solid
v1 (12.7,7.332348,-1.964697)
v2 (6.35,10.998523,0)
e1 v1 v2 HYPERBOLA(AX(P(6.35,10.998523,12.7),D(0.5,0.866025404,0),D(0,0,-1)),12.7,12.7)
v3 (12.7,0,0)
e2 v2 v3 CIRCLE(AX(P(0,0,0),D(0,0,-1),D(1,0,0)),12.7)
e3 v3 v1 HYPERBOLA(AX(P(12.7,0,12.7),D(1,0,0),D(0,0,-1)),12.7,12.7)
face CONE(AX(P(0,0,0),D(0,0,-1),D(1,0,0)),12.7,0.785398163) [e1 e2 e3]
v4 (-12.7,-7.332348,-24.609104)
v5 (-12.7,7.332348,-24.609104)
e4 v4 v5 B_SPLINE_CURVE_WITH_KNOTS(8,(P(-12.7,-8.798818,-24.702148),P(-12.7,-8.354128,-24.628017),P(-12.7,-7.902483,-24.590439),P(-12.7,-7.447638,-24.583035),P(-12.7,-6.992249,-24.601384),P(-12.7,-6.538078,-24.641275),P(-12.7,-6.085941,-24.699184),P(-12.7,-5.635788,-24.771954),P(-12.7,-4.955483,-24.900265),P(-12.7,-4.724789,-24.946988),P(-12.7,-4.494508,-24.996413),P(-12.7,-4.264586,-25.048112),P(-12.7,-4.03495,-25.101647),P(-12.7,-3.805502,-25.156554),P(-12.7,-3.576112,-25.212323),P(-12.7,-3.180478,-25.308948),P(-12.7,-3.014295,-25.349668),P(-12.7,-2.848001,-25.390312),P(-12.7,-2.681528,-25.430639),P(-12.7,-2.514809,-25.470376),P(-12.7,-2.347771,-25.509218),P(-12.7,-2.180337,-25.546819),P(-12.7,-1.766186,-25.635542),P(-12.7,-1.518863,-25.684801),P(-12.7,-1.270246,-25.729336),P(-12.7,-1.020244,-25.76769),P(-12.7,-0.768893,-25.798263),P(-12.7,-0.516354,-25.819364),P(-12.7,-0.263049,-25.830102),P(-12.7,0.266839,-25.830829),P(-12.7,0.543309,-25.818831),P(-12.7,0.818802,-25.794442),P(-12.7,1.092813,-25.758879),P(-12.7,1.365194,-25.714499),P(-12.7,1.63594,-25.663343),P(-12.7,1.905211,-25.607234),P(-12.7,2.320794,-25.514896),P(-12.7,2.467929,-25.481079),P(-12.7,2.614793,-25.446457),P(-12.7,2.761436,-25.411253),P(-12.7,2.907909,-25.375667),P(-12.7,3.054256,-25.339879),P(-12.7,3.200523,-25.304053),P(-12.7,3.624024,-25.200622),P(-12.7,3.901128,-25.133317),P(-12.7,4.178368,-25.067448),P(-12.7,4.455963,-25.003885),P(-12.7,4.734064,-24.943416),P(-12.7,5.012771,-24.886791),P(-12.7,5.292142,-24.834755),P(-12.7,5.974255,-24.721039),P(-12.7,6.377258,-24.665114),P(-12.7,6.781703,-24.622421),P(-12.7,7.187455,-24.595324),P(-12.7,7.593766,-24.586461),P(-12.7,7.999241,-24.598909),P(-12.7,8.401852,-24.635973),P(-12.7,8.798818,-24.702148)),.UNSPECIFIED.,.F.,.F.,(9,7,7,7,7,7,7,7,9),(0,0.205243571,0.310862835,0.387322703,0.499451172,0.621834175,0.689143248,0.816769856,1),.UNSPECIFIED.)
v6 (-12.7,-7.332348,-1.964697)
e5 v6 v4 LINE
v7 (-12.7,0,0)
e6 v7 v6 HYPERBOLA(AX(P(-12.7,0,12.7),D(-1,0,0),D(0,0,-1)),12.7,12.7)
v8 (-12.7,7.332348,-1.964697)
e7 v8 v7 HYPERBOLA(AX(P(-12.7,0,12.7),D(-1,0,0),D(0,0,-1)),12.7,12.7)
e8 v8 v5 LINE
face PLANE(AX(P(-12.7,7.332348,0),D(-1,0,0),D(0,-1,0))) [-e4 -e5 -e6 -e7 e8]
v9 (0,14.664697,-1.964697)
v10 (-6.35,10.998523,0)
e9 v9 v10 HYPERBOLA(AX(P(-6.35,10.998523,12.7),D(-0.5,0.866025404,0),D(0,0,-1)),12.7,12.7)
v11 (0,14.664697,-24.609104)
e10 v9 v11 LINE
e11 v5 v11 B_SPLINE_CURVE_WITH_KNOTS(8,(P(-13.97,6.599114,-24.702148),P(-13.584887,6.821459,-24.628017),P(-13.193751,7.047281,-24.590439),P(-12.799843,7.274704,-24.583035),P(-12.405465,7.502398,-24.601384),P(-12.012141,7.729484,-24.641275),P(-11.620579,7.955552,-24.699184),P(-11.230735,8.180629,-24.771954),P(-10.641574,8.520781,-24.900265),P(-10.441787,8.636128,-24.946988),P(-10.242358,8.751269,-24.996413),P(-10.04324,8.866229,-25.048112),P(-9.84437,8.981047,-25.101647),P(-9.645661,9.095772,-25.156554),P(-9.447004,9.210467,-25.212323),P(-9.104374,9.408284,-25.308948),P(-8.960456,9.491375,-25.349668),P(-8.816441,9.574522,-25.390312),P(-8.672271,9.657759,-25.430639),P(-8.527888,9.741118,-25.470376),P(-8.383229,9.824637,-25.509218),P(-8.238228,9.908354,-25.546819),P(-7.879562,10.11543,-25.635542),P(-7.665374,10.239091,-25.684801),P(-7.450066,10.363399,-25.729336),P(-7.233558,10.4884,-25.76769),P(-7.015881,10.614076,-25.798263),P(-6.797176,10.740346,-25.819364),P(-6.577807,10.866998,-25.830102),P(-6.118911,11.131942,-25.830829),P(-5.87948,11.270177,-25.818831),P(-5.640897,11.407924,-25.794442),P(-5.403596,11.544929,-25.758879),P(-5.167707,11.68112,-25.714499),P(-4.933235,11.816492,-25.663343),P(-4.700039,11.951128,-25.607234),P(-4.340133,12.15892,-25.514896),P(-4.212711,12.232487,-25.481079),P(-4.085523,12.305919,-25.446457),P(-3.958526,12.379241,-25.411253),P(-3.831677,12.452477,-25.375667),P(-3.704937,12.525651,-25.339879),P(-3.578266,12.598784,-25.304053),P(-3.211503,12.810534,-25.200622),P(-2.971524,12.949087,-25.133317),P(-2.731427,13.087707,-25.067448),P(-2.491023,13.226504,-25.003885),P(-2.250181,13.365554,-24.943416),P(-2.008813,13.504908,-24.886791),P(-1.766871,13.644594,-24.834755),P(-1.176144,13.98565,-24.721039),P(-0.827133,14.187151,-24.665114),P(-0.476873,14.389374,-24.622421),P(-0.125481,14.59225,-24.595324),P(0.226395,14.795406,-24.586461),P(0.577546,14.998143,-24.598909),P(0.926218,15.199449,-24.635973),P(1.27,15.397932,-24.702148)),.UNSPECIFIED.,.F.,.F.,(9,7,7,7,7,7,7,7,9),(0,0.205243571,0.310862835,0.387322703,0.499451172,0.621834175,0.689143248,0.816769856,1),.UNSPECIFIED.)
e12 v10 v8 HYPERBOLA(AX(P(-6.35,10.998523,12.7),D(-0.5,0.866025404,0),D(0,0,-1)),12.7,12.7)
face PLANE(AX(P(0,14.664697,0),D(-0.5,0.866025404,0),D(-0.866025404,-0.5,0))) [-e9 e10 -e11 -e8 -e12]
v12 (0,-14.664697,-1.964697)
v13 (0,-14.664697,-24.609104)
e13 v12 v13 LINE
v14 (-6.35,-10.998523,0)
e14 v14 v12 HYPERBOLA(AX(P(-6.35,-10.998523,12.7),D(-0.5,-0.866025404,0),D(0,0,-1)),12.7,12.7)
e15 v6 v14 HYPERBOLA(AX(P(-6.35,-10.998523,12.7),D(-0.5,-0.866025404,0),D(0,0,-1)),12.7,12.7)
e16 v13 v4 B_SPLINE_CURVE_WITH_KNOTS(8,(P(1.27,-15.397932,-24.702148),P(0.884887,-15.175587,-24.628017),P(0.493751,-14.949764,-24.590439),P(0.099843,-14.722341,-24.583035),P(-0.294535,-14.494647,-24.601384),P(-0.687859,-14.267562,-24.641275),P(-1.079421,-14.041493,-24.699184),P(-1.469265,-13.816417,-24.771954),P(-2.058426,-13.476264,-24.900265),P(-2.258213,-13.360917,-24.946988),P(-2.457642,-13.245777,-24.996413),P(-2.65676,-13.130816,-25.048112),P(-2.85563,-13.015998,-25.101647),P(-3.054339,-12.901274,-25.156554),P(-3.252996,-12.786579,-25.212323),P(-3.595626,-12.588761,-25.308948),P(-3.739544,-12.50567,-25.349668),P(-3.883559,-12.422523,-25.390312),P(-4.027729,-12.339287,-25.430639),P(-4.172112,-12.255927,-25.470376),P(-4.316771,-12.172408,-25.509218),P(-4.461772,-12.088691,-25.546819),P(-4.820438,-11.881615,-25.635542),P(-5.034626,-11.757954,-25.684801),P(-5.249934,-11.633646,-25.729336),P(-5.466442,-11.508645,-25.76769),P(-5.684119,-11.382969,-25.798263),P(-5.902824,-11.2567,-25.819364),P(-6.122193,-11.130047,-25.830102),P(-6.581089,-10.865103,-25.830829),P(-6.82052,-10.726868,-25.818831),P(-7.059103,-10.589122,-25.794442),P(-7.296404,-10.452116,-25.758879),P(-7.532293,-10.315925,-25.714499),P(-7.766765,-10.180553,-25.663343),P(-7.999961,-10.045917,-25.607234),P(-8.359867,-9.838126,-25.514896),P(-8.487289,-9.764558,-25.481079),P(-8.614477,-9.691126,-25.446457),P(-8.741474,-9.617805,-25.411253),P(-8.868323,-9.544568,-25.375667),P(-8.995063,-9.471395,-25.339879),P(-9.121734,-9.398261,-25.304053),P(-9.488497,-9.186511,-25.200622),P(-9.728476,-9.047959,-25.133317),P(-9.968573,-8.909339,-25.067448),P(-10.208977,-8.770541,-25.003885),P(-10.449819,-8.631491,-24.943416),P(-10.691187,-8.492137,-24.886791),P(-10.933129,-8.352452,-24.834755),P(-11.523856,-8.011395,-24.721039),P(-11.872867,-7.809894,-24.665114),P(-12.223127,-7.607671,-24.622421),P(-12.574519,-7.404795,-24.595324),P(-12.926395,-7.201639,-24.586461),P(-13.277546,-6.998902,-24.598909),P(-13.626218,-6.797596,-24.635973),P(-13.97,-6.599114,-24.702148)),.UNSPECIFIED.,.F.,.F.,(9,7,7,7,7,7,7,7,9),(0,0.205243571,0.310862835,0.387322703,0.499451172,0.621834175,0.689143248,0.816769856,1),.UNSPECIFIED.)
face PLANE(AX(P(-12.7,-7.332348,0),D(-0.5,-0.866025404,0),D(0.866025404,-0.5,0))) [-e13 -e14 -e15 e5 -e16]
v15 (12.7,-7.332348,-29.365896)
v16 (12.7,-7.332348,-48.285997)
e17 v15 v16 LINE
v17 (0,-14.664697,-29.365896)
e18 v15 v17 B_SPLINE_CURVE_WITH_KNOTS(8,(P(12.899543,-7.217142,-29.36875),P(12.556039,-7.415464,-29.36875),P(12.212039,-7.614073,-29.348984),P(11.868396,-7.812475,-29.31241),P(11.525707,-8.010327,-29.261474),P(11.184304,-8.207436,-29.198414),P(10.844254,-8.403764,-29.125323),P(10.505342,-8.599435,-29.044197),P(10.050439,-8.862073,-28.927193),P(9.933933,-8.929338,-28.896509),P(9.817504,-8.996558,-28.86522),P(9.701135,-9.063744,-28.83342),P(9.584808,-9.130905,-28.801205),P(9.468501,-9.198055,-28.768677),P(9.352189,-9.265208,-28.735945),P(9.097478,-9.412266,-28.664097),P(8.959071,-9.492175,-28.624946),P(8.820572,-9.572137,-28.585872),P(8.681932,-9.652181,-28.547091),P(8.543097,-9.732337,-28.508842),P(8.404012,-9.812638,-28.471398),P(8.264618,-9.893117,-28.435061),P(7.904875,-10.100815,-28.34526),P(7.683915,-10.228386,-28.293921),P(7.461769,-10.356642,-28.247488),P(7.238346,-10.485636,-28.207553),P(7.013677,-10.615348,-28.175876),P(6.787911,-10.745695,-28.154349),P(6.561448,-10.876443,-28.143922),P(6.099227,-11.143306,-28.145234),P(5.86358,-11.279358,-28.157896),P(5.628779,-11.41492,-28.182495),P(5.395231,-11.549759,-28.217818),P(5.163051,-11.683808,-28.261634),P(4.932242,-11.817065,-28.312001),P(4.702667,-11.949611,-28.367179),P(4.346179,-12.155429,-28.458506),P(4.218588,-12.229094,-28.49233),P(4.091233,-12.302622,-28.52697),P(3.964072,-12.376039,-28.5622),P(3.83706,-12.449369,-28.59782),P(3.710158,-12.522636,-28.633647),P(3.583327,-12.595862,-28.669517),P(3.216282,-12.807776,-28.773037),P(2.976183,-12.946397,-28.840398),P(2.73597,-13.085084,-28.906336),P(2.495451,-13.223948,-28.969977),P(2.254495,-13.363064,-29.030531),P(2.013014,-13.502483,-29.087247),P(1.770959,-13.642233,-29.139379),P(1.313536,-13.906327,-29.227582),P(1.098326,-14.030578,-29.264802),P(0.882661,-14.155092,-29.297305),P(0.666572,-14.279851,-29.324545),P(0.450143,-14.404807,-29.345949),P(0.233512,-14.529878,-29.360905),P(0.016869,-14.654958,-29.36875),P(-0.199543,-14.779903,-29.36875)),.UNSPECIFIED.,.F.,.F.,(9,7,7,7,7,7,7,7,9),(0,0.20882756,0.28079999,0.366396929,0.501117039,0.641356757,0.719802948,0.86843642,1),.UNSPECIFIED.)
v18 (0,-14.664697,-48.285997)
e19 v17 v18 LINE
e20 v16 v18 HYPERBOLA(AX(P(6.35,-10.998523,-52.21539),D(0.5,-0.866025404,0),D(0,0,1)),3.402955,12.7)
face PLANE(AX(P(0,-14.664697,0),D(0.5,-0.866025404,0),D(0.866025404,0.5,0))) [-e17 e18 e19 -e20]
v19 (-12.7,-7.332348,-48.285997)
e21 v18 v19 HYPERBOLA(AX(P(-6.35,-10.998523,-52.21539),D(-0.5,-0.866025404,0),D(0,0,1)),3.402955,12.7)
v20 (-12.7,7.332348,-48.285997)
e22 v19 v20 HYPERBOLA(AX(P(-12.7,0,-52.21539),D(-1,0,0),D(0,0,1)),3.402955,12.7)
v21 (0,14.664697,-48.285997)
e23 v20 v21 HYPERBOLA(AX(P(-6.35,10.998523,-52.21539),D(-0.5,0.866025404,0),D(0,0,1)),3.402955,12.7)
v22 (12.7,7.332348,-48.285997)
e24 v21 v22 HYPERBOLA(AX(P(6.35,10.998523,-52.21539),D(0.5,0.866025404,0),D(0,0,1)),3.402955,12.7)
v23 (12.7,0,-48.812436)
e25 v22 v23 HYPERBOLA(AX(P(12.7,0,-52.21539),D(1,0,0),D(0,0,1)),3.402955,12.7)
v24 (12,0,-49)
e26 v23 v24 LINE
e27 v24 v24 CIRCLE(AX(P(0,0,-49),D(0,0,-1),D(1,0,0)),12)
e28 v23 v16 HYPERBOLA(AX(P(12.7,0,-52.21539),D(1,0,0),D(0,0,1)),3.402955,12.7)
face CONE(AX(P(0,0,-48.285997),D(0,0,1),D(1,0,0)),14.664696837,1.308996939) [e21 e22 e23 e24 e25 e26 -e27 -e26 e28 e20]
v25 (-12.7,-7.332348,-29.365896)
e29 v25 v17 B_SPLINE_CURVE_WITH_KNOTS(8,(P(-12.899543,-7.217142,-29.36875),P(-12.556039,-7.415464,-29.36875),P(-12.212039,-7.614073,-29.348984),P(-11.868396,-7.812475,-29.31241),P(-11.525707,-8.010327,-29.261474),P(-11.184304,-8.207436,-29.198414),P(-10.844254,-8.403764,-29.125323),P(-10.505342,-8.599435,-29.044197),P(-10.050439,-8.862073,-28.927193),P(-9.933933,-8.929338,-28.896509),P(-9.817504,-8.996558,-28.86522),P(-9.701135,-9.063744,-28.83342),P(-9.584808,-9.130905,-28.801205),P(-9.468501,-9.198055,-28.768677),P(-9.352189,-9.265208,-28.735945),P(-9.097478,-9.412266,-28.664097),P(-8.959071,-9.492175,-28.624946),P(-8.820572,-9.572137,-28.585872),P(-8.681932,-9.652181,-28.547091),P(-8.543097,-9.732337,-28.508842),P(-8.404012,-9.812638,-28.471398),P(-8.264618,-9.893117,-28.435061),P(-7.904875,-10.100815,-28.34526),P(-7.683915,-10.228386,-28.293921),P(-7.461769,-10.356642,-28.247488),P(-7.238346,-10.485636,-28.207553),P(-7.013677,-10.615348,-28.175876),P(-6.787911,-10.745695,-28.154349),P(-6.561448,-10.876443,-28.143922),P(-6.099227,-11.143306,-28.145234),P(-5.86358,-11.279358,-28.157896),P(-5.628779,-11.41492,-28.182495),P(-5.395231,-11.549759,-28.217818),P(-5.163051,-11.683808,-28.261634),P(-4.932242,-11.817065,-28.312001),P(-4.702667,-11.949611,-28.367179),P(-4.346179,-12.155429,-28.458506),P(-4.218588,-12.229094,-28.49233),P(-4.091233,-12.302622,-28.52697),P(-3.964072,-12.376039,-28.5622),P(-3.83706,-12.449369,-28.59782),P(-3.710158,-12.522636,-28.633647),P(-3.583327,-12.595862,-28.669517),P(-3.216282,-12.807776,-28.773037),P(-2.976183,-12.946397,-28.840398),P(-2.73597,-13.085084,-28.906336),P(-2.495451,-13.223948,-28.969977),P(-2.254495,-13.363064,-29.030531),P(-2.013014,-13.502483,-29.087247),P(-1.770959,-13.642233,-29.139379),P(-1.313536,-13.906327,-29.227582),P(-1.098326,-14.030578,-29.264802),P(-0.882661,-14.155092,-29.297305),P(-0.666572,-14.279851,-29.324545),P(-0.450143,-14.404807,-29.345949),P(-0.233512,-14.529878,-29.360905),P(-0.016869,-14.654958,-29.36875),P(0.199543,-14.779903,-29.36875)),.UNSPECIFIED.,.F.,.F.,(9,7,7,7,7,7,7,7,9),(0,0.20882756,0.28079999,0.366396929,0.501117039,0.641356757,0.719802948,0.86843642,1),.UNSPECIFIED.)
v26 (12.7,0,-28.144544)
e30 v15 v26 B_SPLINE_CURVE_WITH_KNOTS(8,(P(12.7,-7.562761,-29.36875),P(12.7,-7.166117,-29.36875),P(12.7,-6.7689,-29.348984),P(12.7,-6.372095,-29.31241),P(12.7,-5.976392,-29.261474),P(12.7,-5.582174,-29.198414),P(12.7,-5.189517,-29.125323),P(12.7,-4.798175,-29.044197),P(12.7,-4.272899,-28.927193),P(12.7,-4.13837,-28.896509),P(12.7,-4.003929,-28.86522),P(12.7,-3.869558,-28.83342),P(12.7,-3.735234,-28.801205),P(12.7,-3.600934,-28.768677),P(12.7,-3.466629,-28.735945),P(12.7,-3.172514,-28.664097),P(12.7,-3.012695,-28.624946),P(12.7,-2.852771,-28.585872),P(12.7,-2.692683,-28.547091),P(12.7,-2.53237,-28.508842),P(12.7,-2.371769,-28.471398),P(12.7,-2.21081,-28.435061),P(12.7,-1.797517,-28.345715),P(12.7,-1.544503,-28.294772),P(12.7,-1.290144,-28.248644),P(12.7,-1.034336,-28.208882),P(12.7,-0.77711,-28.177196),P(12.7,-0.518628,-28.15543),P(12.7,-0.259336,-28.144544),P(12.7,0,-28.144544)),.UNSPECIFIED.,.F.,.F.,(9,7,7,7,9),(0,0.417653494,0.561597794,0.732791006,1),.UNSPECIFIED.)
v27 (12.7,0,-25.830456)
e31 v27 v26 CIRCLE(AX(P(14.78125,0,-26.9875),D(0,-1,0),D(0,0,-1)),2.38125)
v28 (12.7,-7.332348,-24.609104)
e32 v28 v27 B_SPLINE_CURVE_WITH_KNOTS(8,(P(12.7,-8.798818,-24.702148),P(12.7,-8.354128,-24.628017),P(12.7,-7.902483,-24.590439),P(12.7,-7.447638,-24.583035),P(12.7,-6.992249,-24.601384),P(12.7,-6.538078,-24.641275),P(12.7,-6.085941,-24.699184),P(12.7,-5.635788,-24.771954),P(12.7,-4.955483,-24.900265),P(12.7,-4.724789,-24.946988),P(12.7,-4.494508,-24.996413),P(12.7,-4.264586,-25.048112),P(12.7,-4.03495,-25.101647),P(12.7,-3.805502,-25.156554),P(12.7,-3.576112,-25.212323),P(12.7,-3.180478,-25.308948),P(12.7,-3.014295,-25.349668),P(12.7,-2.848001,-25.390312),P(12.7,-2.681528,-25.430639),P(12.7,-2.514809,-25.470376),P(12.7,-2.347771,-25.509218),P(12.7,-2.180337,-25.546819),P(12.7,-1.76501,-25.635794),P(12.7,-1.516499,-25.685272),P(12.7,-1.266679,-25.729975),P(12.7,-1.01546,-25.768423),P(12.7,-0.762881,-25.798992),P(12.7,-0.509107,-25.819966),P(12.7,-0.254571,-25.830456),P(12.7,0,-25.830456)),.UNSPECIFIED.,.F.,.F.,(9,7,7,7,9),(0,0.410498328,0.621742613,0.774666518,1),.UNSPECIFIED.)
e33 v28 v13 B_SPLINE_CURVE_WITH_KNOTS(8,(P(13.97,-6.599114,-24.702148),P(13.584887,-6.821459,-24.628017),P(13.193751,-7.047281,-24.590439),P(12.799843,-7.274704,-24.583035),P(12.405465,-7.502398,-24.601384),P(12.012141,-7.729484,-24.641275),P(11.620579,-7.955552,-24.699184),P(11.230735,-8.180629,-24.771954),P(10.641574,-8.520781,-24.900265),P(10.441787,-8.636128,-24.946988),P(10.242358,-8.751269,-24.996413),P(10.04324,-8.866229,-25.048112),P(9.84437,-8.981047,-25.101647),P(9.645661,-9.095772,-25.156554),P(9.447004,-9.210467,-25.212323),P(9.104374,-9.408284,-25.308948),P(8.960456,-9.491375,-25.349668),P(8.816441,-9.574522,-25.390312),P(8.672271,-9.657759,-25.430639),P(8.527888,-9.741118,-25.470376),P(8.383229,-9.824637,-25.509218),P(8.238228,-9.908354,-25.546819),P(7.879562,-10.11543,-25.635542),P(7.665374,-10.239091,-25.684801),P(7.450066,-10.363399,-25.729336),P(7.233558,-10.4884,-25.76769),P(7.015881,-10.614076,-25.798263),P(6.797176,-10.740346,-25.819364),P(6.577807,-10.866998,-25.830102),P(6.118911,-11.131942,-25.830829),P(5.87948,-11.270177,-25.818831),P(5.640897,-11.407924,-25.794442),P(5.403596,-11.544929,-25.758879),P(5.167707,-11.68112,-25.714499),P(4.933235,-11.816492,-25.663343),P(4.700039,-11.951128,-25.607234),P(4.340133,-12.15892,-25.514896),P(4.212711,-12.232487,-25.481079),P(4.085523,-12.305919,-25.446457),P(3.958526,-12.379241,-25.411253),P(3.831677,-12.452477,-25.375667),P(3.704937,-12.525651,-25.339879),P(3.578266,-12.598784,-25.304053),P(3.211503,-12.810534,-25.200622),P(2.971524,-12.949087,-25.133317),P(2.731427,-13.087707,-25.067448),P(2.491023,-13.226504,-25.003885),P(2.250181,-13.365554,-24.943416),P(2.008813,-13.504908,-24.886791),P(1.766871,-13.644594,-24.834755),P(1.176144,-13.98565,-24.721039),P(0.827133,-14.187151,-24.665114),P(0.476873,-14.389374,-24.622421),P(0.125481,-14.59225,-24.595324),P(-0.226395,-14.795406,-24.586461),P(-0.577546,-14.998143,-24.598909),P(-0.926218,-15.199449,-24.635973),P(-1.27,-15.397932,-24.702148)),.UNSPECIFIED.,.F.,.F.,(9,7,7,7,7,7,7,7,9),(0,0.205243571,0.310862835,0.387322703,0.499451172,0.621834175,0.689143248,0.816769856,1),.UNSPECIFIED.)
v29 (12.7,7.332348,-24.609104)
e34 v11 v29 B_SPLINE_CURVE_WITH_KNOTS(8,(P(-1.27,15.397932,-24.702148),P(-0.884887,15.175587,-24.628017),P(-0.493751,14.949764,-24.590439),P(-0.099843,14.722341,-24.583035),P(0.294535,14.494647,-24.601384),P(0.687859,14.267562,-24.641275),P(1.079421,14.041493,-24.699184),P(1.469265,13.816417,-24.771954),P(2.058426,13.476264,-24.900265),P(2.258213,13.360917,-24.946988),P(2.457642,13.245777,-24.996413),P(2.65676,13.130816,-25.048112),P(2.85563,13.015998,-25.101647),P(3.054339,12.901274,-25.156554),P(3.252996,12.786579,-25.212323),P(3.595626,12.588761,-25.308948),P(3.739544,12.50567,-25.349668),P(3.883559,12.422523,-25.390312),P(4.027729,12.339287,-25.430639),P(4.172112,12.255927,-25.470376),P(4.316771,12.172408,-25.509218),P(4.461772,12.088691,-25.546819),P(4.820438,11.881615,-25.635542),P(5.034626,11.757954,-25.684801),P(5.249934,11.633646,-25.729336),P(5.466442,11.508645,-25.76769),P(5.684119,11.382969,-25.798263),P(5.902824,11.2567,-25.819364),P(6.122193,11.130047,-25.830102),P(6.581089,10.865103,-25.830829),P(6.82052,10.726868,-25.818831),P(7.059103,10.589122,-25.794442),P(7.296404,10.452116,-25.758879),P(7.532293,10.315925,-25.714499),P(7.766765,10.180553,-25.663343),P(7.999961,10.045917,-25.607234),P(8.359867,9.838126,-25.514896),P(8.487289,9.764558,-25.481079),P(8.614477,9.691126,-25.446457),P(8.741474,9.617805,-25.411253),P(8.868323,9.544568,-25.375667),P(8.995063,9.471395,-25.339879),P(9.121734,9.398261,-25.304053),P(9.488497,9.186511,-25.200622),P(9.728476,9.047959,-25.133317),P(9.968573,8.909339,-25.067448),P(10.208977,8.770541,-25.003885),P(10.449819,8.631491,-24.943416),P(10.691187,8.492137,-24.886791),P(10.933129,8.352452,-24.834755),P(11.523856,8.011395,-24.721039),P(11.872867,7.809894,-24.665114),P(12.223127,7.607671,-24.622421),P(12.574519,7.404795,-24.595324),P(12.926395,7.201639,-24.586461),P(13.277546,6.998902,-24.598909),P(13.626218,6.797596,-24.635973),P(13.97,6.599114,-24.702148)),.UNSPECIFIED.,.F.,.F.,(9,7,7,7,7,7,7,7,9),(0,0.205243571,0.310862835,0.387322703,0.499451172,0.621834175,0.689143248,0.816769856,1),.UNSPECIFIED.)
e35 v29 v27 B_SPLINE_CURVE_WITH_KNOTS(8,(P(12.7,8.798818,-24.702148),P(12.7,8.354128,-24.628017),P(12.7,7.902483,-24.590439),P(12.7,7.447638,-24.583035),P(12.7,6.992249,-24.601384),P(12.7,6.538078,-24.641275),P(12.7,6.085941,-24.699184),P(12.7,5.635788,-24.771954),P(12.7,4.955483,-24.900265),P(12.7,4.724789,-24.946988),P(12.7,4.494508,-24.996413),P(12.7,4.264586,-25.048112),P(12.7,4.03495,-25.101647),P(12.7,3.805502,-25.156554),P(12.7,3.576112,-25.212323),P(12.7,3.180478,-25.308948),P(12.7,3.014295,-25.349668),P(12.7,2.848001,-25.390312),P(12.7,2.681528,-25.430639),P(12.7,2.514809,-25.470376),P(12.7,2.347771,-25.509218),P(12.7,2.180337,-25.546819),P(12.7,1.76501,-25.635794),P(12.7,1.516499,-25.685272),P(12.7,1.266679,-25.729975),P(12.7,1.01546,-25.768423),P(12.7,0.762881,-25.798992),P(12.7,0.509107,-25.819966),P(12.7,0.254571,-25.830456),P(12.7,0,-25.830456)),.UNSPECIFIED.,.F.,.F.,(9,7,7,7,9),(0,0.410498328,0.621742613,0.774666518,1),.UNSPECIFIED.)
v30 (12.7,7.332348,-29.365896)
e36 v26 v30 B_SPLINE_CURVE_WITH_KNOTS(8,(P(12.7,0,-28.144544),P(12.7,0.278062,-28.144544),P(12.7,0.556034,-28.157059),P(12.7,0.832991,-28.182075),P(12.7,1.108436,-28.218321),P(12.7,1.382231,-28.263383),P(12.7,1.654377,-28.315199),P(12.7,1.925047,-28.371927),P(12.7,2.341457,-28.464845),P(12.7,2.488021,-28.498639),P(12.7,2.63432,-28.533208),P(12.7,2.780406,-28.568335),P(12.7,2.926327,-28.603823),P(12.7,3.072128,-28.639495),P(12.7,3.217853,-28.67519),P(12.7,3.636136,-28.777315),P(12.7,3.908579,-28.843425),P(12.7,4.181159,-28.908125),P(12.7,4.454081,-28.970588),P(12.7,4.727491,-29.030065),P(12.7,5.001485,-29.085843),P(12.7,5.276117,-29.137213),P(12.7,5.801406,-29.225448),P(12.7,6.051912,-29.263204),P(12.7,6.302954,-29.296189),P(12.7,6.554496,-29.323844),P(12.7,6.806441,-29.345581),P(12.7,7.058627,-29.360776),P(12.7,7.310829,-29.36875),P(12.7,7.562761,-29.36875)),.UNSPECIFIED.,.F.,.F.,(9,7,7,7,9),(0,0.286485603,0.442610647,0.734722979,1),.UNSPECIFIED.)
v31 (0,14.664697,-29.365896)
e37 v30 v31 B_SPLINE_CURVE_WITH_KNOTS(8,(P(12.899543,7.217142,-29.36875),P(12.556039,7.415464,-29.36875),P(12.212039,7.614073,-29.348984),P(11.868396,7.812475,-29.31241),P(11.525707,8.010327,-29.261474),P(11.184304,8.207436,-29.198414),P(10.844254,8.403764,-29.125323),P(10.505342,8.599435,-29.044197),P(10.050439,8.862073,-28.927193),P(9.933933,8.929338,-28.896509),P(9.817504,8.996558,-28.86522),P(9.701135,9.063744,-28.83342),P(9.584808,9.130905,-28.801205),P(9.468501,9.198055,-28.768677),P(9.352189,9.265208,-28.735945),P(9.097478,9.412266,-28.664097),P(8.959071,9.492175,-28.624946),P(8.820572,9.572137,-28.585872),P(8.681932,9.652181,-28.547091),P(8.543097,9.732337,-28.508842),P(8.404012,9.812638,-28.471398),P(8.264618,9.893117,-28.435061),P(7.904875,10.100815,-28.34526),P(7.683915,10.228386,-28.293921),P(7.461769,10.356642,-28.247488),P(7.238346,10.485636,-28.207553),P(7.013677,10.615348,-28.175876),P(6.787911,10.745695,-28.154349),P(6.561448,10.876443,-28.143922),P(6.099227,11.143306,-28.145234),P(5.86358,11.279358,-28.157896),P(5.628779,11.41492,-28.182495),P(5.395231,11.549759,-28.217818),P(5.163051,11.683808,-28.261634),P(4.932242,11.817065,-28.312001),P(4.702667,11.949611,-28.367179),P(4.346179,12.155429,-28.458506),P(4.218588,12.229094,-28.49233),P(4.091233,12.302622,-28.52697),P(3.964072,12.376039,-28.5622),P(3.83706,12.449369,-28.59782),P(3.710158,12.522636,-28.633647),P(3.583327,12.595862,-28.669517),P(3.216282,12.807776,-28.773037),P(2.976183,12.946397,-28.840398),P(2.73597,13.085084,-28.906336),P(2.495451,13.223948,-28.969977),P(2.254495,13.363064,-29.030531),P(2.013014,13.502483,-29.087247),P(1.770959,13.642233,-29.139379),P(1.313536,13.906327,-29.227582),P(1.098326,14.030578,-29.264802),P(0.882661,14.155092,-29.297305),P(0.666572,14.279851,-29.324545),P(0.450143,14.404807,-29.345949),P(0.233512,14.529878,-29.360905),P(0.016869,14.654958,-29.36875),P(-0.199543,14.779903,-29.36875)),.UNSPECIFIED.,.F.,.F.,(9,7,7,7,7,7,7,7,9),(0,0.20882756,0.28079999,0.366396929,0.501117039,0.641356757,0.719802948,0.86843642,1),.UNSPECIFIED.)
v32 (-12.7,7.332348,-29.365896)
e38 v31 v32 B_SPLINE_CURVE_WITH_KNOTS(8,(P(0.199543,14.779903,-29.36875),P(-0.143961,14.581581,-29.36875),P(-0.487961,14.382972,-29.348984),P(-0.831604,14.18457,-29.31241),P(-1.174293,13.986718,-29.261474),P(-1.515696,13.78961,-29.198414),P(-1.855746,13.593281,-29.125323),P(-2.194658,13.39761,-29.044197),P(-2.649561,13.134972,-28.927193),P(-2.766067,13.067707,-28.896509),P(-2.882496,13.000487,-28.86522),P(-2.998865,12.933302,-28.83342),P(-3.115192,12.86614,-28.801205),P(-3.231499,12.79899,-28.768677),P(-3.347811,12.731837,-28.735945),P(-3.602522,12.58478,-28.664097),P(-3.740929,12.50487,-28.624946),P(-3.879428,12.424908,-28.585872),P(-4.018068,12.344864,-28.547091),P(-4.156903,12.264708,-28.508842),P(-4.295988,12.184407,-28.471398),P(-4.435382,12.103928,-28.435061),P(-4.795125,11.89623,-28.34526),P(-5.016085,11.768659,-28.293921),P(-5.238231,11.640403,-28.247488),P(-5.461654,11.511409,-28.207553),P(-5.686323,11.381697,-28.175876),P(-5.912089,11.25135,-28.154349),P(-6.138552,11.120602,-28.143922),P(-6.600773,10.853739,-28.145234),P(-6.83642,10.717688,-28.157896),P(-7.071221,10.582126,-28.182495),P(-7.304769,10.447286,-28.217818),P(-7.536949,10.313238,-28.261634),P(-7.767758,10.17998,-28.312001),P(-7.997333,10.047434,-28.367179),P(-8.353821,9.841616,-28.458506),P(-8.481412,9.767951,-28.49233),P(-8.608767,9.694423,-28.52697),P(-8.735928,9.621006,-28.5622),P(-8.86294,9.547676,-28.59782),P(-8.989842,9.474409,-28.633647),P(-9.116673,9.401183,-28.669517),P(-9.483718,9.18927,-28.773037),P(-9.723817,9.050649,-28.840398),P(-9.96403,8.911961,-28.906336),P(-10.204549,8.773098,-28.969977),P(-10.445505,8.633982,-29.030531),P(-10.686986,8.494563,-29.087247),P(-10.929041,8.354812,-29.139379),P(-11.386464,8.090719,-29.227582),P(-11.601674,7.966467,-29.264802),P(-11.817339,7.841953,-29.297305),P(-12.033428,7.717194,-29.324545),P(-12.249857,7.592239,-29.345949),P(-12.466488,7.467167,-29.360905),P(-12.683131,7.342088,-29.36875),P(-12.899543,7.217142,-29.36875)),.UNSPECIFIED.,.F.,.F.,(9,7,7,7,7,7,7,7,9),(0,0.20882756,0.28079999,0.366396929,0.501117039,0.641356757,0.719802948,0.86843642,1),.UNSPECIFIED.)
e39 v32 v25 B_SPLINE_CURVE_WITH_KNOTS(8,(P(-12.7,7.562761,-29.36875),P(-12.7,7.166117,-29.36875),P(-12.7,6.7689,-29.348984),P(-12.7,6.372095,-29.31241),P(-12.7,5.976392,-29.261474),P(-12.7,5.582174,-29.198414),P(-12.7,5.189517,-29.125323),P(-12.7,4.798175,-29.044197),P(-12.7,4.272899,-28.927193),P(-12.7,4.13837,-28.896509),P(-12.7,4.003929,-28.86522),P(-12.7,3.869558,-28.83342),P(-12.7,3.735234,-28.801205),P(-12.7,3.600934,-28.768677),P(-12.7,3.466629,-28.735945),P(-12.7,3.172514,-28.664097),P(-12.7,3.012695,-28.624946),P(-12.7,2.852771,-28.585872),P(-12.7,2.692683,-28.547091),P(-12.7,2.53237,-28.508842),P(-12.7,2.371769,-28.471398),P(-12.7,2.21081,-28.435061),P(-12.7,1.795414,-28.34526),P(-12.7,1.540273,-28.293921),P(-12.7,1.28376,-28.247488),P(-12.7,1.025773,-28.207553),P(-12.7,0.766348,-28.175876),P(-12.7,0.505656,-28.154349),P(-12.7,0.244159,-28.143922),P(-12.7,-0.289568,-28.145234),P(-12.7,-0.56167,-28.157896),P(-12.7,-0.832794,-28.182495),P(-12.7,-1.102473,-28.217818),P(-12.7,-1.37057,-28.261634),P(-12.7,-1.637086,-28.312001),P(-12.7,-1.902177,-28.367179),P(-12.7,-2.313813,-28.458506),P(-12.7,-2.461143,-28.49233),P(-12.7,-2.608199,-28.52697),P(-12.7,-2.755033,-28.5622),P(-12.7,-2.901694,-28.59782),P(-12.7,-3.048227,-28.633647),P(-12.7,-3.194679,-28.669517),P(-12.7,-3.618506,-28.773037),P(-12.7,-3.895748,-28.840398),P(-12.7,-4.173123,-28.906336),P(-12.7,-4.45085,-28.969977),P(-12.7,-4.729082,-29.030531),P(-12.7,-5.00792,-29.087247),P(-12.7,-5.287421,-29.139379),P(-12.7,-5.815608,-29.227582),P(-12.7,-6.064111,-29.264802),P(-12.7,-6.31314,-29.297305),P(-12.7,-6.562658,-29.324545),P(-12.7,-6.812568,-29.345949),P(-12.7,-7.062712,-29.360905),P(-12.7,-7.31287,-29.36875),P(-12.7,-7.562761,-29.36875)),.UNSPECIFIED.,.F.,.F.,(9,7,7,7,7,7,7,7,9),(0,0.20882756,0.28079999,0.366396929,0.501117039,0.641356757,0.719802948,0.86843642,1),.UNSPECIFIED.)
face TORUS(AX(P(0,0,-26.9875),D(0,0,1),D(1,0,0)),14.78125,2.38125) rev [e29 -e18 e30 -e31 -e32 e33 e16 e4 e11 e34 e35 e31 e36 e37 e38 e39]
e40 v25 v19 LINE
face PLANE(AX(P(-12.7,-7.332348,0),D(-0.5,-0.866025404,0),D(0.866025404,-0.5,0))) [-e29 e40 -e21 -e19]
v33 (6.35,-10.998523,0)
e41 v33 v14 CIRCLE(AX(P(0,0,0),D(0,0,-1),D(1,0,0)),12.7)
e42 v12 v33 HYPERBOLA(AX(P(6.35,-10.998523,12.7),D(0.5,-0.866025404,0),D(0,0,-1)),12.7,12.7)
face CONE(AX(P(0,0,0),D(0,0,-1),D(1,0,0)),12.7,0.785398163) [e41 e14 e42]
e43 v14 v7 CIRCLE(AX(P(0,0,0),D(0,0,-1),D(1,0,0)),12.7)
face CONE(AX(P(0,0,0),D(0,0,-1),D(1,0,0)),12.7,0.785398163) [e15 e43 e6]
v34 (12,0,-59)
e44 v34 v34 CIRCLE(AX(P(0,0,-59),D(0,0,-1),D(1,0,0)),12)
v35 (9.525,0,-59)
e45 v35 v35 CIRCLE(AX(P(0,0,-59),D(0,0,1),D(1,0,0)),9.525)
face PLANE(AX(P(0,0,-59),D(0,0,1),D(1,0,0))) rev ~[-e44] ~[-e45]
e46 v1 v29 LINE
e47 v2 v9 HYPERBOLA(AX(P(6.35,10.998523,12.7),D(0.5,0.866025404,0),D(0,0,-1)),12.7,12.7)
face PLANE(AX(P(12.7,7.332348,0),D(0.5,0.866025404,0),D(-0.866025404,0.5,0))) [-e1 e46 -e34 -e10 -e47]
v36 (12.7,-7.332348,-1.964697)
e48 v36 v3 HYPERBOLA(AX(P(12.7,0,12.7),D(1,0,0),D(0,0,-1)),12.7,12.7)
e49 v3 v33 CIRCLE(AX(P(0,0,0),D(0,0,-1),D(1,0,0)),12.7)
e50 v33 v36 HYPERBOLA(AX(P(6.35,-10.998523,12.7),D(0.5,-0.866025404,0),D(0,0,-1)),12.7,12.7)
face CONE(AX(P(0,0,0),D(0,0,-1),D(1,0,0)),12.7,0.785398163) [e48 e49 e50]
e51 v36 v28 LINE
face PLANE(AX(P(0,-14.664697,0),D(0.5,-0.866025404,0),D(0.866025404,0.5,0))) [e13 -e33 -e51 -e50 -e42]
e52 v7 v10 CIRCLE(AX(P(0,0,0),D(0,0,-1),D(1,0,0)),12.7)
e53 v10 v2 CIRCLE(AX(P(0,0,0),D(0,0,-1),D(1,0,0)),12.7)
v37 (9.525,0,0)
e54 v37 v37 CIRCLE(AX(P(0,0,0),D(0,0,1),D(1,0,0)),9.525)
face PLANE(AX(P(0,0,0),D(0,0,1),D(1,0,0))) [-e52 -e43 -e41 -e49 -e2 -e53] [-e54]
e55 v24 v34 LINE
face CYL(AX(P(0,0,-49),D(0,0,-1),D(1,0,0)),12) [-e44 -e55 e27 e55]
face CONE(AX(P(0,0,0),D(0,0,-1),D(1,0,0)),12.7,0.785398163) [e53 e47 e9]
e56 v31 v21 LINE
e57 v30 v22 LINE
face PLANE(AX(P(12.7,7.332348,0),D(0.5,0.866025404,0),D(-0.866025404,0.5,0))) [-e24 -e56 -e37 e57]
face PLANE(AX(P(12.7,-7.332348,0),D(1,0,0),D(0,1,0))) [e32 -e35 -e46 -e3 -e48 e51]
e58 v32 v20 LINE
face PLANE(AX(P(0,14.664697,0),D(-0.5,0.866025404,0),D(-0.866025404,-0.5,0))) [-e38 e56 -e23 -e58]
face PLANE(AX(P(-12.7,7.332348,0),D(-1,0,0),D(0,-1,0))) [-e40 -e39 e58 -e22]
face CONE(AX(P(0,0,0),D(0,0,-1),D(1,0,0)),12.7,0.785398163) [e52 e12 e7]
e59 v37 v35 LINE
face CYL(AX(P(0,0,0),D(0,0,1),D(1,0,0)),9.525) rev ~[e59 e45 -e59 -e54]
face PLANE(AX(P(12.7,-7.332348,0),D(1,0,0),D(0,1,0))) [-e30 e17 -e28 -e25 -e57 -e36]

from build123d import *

# Parameters (mm, degrees)
SKETCH1_R      = 9.525
EXTRUDE1_DEPTH = 59
SKETCH2_R      = 2.38125


with BuildPart() as part:
    # Sketch1 → Extrude1 (new body)
    with BuildSketch(Plane.XY):
        Polygon((-12.7, 7.332348419), (-12.7, -7.332348419), (0, -14.664696837), (12.7, -7.332348419), (12.7, 7.332348419), (0, 14.664696837), align=None)
        Circle(SKETCH1_R, mode=Mode.SUBTRACT)
    extrude(amount=-EXTRUDE1_DEPTH)

    # Sketch2 → Cut-Revolve3 (revolve, cut)
    with BuildSketch(Plane(origin=(0, 0, 0), x_dir=(0, 0, -1), z_dir=(1, 0, 0)), mode=Mode.PRIVATE) as cut_revolve3_sk:
        Polygon((59, 14.664696837), (48.285996634, 14.664696837), (49, 12), (59, 12), align=None)
        Polygon((1.964696837, 14.664696837), (0, 14.664696837), (0, 12.7), align=None)
        with Locations((26.9875, 14.78125)):
            Circle(SKETCH2_R)
    revolve(cut_revolve3_sk.sketch.rotate(Axis((0, 0, 0), (0, 0, -1)), 90), axis=Axis((0, 0, 0), (0, 0, -1)), mode=Mode.SUBTRACT)


solid = part.part
